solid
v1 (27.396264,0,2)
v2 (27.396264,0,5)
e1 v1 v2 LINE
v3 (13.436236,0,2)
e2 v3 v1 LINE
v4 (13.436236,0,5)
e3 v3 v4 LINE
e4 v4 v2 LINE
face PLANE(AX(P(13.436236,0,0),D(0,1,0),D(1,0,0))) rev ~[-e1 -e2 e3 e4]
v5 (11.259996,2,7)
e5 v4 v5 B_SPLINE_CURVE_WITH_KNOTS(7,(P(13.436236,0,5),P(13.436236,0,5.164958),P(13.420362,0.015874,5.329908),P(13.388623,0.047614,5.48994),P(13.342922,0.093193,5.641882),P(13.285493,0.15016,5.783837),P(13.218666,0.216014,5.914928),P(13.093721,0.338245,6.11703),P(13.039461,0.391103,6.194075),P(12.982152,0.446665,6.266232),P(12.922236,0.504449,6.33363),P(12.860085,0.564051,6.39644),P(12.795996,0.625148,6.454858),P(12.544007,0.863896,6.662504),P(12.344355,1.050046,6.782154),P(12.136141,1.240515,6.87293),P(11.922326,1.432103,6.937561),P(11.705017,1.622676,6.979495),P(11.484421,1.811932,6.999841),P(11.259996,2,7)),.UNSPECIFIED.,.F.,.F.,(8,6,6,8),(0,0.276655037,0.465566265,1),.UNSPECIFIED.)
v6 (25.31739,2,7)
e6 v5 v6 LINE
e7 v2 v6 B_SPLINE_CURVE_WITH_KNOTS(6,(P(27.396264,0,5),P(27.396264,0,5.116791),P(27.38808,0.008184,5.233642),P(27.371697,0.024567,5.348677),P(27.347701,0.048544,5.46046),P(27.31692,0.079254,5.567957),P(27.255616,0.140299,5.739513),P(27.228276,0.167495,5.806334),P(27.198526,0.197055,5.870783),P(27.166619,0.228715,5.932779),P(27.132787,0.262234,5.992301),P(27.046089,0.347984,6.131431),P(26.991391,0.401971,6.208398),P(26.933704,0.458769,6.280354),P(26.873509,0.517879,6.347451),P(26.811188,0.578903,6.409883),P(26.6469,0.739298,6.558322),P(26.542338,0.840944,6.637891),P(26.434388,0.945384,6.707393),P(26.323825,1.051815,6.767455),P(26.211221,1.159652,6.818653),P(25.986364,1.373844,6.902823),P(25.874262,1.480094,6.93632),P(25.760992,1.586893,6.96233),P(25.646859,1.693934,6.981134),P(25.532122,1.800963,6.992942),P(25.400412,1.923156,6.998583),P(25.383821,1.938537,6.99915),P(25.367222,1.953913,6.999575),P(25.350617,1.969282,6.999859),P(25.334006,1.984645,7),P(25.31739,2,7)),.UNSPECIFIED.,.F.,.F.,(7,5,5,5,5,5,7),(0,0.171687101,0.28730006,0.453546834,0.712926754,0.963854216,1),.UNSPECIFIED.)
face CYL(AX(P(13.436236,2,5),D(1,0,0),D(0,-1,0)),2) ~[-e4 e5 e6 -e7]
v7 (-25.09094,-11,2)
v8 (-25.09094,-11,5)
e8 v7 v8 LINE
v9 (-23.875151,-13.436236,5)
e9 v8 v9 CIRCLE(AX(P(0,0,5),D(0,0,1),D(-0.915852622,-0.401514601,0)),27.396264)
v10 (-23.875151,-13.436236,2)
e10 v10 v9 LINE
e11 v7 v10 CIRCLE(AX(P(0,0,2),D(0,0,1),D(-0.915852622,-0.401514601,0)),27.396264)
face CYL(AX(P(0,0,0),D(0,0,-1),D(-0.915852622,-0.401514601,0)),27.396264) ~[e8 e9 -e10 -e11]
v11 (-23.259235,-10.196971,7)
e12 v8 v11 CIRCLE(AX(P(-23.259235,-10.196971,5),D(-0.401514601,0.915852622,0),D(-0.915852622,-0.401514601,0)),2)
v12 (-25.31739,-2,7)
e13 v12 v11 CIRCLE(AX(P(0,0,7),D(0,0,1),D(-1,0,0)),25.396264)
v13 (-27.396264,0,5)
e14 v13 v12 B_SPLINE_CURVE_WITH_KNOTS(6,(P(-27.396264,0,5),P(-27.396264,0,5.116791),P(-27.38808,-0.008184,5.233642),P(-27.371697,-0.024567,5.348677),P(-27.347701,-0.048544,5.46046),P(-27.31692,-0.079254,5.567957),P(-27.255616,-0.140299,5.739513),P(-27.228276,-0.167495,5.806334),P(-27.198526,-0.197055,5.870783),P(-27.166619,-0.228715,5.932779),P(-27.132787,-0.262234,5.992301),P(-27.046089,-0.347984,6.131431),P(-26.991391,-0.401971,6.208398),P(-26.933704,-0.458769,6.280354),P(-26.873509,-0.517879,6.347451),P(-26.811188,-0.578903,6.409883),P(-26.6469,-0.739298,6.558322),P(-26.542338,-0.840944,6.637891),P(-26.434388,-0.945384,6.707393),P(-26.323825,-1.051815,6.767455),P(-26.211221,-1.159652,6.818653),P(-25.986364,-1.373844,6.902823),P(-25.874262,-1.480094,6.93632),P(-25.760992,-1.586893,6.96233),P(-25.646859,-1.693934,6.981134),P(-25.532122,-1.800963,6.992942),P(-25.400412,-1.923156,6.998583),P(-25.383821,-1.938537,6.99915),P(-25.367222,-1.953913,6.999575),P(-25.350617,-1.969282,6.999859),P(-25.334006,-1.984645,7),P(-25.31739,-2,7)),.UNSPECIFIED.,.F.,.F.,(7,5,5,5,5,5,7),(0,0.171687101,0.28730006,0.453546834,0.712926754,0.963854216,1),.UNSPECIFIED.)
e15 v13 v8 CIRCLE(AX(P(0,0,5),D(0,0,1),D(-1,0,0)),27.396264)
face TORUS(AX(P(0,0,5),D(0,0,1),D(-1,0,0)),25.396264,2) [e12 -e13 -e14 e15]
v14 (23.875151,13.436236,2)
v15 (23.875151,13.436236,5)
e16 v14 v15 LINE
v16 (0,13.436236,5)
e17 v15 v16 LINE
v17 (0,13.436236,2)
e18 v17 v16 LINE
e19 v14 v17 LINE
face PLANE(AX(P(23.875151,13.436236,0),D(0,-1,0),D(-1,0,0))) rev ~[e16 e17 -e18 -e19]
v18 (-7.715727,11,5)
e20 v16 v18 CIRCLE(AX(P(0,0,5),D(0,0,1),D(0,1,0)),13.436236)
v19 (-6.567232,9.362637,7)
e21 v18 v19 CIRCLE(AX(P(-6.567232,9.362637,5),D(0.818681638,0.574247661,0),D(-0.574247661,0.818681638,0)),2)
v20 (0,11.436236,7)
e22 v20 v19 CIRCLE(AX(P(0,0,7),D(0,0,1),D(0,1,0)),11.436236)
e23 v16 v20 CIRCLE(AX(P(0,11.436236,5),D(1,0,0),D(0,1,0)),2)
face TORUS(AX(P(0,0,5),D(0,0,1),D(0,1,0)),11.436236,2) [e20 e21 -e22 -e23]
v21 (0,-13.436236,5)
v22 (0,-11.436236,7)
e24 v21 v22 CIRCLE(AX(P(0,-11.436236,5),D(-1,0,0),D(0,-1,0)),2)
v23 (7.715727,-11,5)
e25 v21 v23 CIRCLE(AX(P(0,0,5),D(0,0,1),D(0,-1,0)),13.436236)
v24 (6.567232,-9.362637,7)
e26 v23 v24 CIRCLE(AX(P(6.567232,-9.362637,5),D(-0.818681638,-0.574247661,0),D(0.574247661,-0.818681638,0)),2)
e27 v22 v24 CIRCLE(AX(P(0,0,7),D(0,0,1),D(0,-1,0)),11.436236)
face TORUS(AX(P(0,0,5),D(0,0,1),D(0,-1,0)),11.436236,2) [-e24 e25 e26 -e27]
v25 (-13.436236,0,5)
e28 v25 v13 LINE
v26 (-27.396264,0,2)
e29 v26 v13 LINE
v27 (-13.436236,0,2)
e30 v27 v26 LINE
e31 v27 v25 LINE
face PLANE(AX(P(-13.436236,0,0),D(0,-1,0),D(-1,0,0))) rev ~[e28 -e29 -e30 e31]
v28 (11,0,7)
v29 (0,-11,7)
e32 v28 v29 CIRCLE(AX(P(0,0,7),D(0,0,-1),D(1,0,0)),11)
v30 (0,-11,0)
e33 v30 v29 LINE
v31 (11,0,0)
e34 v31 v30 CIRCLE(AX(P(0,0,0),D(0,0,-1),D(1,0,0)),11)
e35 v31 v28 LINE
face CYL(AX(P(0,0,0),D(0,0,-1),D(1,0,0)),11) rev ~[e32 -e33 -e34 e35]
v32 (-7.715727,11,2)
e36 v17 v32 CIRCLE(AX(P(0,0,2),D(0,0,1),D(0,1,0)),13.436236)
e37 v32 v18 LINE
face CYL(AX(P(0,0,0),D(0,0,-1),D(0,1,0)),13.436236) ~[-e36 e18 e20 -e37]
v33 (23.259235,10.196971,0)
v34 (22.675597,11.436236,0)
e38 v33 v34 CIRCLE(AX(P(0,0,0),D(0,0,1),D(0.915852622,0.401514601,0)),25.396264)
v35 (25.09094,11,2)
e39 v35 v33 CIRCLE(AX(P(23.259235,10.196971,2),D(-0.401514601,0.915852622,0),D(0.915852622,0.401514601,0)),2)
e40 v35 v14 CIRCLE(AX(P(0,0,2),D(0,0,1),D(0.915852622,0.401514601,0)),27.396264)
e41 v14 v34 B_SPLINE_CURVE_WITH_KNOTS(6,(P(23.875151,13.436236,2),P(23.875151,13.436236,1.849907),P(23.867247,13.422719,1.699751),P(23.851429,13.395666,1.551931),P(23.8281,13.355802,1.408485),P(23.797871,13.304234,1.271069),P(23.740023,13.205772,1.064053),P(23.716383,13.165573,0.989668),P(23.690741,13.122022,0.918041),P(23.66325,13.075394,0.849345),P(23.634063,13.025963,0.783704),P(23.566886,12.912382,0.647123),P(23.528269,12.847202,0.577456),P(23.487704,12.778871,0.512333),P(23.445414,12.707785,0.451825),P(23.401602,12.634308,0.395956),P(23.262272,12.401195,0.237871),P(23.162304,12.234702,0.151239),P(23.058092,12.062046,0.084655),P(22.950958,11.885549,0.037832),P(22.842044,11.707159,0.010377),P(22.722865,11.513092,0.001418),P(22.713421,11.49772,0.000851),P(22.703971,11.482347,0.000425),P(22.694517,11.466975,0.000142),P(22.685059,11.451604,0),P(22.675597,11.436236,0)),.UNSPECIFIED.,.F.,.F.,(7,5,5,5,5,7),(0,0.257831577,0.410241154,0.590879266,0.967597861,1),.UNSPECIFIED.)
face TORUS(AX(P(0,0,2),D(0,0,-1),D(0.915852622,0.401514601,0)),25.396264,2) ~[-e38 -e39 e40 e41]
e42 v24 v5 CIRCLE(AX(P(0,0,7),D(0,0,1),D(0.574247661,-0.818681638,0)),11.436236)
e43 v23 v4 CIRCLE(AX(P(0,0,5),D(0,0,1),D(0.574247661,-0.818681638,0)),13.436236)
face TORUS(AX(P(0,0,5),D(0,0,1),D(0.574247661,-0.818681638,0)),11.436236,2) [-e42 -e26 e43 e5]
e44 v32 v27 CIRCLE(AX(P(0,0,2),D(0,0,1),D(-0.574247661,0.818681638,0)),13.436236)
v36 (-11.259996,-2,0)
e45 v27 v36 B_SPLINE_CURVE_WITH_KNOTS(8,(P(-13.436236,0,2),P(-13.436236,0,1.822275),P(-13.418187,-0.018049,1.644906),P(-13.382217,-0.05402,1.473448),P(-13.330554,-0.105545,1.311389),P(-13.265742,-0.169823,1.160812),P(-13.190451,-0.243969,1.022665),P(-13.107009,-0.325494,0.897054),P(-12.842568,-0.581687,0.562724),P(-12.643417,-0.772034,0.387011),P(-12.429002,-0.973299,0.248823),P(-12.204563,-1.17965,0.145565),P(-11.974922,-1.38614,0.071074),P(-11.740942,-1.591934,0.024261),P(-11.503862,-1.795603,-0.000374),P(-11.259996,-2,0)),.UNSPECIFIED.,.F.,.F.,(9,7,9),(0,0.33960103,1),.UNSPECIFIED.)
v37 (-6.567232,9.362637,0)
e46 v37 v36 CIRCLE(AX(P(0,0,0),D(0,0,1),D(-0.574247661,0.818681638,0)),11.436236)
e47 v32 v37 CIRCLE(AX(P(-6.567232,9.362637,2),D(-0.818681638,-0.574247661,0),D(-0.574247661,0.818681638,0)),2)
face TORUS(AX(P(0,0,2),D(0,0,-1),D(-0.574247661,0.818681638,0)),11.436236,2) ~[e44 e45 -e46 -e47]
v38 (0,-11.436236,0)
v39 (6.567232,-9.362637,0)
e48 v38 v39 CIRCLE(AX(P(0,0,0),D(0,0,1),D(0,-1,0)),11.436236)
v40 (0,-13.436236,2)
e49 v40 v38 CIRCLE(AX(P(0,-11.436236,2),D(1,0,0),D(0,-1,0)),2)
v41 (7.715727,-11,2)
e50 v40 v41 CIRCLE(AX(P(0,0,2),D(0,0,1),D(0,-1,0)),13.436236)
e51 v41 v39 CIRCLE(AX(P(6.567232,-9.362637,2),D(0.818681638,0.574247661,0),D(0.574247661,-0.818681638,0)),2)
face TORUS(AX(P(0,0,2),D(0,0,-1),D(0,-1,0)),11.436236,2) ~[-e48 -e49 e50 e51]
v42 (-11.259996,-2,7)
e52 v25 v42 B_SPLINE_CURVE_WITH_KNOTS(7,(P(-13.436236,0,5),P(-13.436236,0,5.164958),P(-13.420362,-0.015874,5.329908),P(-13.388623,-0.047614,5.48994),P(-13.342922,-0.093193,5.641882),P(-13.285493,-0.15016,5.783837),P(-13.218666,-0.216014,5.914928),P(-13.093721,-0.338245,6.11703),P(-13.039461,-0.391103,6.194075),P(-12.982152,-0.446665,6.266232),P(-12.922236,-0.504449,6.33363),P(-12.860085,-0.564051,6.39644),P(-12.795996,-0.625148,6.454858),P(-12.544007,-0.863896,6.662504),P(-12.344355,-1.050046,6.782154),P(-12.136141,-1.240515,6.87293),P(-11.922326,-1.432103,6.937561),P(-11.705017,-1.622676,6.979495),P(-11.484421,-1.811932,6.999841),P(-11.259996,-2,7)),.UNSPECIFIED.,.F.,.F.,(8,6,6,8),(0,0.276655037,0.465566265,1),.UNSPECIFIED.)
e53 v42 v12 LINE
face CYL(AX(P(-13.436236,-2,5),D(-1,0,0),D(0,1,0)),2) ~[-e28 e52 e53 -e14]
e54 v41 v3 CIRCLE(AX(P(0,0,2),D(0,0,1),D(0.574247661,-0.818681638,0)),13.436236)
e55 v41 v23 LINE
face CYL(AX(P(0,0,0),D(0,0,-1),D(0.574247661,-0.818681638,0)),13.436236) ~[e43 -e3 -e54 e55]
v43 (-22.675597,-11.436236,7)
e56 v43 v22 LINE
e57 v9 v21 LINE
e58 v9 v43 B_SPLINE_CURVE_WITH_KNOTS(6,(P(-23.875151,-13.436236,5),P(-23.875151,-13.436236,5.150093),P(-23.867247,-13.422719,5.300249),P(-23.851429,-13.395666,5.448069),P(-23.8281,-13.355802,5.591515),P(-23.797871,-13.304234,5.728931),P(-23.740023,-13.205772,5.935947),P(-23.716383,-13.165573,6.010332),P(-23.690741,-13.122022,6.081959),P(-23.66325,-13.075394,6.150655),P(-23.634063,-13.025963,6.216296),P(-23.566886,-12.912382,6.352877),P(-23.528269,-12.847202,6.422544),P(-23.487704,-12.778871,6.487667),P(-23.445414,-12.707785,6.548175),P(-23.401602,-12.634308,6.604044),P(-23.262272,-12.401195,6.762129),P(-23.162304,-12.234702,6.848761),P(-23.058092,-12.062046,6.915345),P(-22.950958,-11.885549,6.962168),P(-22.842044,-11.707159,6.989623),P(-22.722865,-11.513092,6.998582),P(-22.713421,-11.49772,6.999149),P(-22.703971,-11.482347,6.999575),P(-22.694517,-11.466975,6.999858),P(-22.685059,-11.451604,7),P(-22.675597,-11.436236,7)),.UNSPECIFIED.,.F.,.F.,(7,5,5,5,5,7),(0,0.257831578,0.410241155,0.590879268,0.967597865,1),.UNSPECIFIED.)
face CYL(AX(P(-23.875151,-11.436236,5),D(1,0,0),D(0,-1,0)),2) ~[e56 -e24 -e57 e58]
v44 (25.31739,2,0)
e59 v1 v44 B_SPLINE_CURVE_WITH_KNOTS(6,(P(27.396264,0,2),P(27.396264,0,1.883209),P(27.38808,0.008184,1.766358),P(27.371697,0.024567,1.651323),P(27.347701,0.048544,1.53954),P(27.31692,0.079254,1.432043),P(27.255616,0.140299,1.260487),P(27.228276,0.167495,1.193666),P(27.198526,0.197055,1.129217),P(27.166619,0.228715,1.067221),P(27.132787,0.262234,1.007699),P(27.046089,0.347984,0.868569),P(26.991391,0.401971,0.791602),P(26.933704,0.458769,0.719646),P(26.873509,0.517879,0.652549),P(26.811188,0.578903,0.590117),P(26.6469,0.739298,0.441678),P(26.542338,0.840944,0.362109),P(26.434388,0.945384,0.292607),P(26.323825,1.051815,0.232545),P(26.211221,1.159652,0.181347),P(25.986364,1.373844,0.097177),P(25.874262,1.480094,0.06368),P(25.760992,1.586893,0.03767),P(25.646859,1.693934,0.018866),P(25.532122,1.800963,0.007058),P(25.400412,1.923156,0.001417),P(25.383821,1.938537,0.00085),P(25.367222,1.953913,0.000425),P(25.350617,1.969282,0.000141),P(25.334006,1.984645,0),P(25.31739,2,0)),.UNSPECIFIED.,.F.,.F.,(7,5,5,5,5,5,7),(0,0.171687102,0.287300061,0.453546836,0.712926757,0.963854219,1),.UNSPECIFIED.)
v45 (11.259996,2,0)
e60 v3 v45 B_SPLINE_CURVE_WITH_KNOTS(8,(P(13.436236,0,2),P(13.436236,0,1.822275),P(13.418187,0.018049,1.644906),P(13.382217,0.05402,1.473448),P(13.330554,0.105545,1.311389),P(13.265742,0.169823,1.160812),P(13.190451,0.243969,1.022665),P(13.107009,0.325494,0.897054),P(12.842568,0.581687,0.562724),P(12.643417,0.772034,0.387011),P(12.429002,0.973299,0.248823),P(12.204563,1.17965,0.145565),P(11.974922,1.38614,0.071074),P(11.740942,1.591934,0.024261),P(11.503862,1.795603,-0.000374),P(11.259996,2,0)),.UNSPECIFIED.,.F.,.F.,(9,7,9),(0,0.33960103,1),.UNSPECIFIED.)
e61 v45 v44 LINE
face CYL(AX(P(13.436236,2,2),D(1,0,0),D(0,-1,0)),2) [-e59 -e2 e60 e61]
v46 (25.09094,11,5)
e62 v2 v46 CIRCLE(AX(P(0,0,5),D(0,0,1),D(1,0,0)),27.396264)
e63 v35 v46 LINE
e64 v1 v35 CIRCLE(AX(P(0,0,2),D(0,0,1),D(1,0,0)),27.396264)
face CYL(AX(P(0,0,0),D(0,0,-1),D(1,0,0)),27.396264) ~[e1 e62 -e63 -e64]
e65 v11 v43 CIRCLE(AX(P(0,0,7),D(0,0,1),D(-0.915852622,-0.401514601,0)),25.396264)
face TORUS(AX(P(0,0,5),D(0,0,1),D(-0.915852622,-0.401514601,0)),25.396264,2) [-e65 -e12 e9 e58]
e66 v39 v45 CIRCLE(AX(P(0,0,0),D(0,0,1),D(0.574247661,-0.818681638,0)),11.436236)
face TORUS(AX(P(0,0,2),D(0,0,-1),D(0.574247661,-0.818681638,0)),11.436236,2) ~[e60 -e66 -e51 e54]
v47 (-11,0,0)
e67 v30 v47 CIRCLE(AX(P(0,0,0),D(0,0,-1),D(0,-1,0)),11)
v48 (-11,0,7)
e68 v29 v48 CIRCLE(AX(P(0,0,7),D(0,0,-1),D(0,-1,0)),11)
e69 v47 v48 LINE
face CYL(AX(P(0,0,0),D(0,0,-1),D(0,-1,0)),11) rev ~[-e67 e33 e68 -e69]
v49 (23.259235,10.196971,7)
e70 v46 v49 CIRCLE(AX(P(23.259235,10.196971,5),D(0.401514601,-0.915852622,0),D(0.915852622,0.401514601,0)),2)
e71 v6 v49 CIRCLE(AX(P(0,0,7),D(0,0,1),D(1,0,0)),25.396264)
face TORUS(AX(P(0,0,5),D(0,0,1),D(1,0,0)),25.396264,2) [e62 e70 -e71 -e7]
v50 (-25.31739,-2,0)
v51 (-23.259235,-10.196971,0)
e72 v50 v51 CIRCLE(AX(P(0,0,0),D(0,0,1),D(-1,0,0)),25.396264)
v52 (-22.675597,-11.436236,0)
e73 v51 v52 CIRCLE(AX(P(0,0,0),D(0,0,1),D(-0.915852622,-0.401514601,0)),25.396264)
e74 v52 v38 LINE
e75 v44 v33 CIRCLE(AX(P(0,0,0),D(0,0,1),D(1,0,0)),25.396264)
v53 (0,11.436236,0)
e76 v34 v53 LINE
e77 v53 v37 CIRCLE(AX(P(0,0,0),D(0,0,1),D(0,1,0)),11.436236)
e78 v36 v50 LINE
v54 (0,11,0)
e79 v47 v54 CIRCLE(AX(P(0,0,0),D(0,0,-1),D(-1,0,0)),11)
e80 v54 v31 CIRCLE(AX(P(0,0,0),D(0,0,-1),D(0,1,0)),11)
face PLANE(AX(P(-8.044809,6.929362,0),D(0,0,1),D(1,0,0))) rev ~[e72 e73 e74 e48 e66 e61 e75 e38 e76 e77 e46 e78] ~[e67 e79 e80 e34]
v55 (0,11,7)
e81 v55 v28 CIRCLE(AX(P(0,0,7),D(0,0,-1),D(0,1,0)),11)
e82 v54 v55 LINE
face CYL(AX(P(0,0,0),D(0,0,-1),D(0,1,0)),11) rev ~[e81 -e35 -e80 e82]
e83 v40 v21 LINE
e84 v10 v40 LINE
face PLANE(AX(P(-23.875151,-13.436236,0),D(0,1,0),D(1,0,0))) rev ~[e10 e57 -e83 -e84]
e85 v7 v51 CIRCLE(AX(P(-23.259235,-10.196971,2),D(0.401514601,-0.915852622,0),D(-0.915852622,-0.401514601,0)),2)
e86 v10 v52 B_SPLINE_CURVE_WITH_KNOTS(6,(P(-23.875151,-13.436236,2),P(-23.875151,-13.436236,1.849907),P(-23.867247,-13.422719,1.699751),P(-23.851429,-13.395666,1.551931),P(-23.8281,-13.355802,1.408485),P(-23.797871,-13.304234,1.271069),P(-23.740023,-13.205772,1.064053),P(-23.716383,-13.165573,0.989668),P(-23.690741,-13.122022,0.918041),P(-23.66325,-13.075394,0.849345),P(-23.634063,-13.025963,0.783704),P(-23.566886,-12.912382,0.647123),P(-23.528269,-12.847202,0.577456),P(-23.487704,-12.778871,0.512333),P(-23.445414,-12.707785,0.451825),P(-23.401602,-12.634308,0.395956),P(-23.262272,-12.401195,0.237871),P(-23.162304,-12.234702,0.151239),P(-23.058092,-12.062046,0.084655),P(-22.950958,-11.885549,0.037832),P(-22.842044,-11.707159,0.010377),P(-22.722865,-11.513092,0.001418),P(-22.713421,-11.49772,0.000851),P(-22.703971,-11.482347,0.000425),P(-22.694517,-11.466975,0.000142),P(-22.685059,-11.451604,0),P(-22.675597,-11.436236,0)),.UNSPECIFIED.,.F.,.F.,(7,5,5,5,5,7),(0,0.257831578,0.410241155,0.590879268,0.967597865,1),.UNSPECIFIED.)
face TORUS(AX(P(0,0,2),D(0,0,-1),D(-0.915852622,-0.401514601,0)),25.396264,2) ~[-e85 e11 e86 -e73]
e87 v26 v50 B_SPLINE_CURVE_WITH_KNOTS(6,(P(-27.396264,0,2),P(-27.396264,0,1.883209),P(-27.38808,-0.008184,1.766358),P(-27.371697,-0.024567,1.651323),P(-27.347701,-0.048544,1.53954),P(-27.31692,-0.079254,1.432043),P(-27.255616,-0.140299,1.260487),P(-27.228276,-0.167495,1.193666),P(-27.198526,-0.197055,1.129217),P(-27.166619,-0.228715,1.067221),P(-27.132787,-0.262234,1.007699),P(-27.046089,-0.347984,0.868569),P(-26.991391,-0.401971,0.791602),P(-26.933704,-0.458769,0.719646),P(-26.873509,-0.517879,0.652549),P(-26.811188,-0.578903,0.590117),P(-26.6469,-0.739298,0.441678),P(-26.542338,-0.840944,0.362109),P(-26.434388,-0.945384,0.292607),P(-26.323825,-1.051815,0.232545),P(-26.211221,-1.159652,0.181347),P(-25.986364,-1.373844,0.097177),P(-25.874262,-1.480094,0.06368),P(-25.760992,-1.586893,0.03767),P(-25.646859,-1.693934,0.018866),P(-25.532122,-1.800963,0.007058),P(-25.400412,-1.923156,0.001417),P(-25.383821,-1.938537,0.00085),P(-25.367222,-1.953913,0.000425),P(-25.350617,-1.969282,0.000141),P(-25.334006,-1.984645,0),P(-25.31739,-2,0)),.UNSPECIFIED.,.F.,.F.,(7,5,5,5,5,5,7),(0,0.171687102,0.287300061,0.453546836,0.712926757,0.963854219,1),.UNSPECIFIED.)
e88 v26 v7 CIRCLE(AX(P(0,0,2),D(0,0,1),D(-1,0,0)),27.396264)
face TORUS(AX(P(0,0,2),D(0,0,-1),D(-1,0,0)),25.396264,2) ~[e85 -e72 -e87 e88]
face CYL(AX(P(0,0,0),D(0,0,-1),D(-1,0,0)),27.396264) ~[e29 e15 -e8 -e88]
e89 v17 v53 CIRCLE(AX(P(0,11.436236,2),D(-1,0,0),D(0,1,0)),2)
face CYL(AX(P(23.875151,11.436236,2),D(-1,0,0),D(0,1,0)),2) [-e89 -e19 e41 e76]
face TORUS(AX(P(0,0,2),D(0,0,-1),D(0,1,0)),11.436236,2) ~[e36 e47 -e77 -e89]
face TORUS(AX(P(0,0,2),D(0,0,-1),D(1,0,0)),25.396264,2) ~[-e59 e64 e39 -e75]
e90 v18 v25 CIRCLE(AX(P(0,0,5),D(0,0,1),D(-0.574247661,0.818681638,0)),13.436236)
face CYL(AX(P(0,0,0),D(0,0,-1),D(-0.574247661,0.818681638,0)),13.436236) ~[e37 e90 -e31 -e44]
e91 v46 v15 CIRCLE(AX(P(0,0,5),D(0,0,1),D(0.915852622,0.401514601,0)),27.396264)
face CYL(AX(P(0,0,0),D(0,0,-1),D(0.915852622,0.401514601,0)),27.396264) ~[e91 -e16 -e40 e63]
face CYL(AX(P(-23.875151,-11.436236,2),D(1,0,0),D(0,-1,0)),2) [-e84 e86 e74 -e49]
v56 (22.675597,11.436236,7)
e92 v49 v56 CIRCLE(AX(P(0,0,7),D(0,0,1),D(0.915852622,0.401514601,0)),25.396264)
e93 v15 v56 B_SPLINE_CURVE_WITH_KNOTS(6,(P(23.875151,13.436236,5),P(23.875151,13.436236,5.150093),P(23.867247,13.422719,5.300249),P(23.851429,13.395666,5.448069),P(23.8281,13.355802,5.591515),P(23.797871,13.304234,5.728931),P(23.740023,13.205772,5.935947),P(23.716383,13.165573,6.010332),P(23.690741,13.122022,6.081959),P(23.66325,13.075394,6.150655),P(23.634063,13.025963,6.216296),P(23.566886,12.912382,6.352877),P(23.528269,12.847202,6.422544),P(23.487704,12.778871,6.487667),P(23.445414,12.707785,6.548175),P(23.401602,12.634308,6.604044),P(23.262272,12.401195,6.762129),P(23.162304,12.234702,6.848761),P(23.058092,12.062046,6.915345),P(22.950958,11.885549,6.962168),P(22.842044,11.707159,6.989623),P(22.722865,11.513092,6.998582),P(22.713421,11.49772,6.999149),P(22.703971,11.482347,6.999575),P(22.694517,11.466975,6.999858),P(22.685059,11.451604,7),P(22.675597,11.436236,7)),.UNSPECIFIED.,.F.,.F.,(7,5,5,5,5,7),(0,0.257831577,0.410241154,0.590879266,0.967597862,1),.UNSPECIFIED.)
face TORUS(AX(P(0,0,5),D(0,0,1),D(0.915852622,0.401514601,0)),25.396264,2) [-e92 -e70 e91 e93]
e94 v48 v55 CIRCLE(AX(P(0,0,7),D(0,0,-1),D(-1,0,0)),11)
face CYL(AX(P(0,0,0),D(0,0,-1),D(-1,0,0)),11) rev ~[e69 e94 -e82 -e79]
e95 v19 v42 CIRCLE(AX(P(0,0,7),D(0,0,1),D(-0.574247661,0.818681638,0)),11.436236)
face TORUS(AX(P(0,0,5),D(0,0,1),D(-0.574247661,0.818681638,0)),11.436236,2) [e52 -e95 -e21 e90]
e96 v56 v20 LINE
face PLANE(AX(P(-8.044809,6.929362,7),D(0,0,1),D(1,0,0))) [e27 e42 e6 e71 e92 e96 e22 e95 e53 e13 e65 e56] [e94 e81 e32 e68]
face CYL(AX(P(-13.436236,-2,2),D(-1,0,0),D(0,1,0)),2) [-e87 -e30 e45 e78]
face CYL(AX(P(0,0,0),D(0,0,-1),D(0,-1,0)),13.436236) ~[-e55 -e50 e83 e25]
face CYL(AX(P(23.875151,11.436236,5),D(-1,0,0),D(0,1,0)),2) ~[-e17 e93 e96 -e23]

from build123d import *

# Parameters (mm, degrees)
F1_DEPTH = 7
F2_R     = 2


with BuildPart() as f1:
    # F0 (on Top) → F1 (new body)
    with BuildSketch(Plane.XY):
        with BuildLine():
            ThreePointArc((-11, 0), (-7.7781745931, 7.7781745931), (0, 11))
            Line((0, 11), (-7.7157273072, 11))
            ThreePointArc((-7.7157273072, 11), (-11.9206288377, 6.1992786672), (-13.4362363733, 0))
            Line((-13.4362363733, 0), (-11, 0))
        make_face()
        with BuildLine():
            ThreePointArc((0, 11), (7.7781745931, 7.7781745931), (11, 0))
            Line((11, 0), (13.4362363733, 0))
            ThreePointArc((13.4362363733, 0), (11.9206288377, 6.1992786672), (7.7157273072, 11))
            Line((7.7157273072, 11), (0, 11))
        make_face()
        with BuildLine():
            Line((13.4362363733, 0), (11, 0))
            ThreePointArc((11, 0), (7.7781745931, -7.7781745931), (0, -11))
            Line((0, -11), (7.7157273072, -11))
            ThreePointArc((7.7157273072, -11), (11.9206288377, -6.1992786672), (13.4362363733, 0))
        make_face()
        with BuildLine():
            Line((7.7157273072, -11), (0, -11))
            Line((0, -11), (0, -13.4362363733))
            ThreePointArc((0, -13.4362363733), (4.0456055031, -12.8127094712), (7.7157273072, -11))
        make_face()
        with BuildLine():
            Line((0, -13.4362363733), (0, -11))
            Line((0, -11), (-7.7157273072, -11))
            ThreePointArc((-7.7157273072, -11), (-4.0456055031, -12.8127094712), (0, -13.4362363733))
        make_face()
        with BuildLine():
            Line((-7.7157273072, -11), (0, -11))
            ThreePointArc((0, -11), (-7.7781745931, -7.7781745931), (-11, 0))
            Line((-11, 0), (-13.4362363733, 0))
            ThreePointArc((-13.4362363733, 0), (-11.9206288377, -6.1992786672), (-7.7157273072, -11))
        make_face()
        with BuildLine():
            Line((-25.0909402017, -11), (-7.7157273072, -11))
            ThreePointArc((-7.7157273072, -11), (-11.9206288377, -6.1992786672), (-13.4362363733, 0))
            Line((-13.4362363733, 0), (-27.3962639826, 0))
            ThreePointArc((-27.3962639826, 0), (-26.8137399624, -5.619486581), (-25.0909402017, -11))
        make_face()
        with BuildLine():
            ThreePointArc((7.7157273072, 11), (11.9206288377, 6.1992786672), (13.4362363733, 0))
            Line((13.4362363733, 0), (27.3962639826, 0))
            ThreePointArc((27.3962639826, 0), (26.8137399624, 5.619486581), (25.0909402017, 11))
            Line((25.0909402017, 11), (7.7157273072, 11))
        make_face()
        with BuildLine():
            Line((0, 13.4362363733), (0, 11))
            Line((0, 11), (7.7157273072, 11))
            ThreePointArc((7.7157273072, 11), (4.0456055031, 12.8127094712), (0, 13.4362363733))
        make_face()
        with BuildLine():
            Line((-7.7157273072, 11), (0, 11))
            Line((0, 11), (0, 13.4362363733))
            ThreePointArc((0, 13.4362363733), (-4.0456055031, 12.8127094712), (-7.7157273072, 11))
        make_face()
        with BuildLine():
            Line((-23.8751509383, -13.4362363733), (0, -13.4362363733))
            ThreePointArc((0, -13.4362363733), (-4.0456055031, -12.8127094712), (-7.7157273072, -11))
            Line((-7.7157273072, -11), (-25.0909402017, -11))
            ThreePointArc((-25.0909402017, -11), (-24.5133296861, -12.2332312946), (-23.8751509383, -13.4362363733))
        make_face()
        with BuildLine():
            Line((23.8751509383, 13.4362363733), (0, 13.4362363733))
            ThreePointArc((0, 13.4362363733), (4.0456055031, 12.8127094712), (7.7157273072, 11))
            Line((7.7157273072, 11), (25.0909402017, 11))
            ThreePointArc((25.0909402017, 11), (24.5133296861, 12.2332312946), (23.8751509383, 13.4362363733))
        make_face()
    extrude(amount=F1_DEPTH)

    # F2
    f2_edges = [f1.edges().sort_by_distance(p)[0] for p in [
        (-9.500854, 9.500854, 7),
        (9.500854, -9.500854, 7),
        (-11.937575, -13.436236, 0),
        (-26.50137, -6.944975, 0),
        (11.937575, 13.436236, 0),
        (26.50137, 6.944975, 0),
        (20.41625, 0, 0),
        (-20.41625, 0, 0),
        (26.50137, 6.944975, 7),
        (-26.50137, -6.944975, 7),
        (20.41625, 0, 7),
        (-20.41625, 0, 7),
        (11.937575, 13.436236, 7),
    ]]
    fillet(f2_edges, radius=F2_R)


solid = f1.part
